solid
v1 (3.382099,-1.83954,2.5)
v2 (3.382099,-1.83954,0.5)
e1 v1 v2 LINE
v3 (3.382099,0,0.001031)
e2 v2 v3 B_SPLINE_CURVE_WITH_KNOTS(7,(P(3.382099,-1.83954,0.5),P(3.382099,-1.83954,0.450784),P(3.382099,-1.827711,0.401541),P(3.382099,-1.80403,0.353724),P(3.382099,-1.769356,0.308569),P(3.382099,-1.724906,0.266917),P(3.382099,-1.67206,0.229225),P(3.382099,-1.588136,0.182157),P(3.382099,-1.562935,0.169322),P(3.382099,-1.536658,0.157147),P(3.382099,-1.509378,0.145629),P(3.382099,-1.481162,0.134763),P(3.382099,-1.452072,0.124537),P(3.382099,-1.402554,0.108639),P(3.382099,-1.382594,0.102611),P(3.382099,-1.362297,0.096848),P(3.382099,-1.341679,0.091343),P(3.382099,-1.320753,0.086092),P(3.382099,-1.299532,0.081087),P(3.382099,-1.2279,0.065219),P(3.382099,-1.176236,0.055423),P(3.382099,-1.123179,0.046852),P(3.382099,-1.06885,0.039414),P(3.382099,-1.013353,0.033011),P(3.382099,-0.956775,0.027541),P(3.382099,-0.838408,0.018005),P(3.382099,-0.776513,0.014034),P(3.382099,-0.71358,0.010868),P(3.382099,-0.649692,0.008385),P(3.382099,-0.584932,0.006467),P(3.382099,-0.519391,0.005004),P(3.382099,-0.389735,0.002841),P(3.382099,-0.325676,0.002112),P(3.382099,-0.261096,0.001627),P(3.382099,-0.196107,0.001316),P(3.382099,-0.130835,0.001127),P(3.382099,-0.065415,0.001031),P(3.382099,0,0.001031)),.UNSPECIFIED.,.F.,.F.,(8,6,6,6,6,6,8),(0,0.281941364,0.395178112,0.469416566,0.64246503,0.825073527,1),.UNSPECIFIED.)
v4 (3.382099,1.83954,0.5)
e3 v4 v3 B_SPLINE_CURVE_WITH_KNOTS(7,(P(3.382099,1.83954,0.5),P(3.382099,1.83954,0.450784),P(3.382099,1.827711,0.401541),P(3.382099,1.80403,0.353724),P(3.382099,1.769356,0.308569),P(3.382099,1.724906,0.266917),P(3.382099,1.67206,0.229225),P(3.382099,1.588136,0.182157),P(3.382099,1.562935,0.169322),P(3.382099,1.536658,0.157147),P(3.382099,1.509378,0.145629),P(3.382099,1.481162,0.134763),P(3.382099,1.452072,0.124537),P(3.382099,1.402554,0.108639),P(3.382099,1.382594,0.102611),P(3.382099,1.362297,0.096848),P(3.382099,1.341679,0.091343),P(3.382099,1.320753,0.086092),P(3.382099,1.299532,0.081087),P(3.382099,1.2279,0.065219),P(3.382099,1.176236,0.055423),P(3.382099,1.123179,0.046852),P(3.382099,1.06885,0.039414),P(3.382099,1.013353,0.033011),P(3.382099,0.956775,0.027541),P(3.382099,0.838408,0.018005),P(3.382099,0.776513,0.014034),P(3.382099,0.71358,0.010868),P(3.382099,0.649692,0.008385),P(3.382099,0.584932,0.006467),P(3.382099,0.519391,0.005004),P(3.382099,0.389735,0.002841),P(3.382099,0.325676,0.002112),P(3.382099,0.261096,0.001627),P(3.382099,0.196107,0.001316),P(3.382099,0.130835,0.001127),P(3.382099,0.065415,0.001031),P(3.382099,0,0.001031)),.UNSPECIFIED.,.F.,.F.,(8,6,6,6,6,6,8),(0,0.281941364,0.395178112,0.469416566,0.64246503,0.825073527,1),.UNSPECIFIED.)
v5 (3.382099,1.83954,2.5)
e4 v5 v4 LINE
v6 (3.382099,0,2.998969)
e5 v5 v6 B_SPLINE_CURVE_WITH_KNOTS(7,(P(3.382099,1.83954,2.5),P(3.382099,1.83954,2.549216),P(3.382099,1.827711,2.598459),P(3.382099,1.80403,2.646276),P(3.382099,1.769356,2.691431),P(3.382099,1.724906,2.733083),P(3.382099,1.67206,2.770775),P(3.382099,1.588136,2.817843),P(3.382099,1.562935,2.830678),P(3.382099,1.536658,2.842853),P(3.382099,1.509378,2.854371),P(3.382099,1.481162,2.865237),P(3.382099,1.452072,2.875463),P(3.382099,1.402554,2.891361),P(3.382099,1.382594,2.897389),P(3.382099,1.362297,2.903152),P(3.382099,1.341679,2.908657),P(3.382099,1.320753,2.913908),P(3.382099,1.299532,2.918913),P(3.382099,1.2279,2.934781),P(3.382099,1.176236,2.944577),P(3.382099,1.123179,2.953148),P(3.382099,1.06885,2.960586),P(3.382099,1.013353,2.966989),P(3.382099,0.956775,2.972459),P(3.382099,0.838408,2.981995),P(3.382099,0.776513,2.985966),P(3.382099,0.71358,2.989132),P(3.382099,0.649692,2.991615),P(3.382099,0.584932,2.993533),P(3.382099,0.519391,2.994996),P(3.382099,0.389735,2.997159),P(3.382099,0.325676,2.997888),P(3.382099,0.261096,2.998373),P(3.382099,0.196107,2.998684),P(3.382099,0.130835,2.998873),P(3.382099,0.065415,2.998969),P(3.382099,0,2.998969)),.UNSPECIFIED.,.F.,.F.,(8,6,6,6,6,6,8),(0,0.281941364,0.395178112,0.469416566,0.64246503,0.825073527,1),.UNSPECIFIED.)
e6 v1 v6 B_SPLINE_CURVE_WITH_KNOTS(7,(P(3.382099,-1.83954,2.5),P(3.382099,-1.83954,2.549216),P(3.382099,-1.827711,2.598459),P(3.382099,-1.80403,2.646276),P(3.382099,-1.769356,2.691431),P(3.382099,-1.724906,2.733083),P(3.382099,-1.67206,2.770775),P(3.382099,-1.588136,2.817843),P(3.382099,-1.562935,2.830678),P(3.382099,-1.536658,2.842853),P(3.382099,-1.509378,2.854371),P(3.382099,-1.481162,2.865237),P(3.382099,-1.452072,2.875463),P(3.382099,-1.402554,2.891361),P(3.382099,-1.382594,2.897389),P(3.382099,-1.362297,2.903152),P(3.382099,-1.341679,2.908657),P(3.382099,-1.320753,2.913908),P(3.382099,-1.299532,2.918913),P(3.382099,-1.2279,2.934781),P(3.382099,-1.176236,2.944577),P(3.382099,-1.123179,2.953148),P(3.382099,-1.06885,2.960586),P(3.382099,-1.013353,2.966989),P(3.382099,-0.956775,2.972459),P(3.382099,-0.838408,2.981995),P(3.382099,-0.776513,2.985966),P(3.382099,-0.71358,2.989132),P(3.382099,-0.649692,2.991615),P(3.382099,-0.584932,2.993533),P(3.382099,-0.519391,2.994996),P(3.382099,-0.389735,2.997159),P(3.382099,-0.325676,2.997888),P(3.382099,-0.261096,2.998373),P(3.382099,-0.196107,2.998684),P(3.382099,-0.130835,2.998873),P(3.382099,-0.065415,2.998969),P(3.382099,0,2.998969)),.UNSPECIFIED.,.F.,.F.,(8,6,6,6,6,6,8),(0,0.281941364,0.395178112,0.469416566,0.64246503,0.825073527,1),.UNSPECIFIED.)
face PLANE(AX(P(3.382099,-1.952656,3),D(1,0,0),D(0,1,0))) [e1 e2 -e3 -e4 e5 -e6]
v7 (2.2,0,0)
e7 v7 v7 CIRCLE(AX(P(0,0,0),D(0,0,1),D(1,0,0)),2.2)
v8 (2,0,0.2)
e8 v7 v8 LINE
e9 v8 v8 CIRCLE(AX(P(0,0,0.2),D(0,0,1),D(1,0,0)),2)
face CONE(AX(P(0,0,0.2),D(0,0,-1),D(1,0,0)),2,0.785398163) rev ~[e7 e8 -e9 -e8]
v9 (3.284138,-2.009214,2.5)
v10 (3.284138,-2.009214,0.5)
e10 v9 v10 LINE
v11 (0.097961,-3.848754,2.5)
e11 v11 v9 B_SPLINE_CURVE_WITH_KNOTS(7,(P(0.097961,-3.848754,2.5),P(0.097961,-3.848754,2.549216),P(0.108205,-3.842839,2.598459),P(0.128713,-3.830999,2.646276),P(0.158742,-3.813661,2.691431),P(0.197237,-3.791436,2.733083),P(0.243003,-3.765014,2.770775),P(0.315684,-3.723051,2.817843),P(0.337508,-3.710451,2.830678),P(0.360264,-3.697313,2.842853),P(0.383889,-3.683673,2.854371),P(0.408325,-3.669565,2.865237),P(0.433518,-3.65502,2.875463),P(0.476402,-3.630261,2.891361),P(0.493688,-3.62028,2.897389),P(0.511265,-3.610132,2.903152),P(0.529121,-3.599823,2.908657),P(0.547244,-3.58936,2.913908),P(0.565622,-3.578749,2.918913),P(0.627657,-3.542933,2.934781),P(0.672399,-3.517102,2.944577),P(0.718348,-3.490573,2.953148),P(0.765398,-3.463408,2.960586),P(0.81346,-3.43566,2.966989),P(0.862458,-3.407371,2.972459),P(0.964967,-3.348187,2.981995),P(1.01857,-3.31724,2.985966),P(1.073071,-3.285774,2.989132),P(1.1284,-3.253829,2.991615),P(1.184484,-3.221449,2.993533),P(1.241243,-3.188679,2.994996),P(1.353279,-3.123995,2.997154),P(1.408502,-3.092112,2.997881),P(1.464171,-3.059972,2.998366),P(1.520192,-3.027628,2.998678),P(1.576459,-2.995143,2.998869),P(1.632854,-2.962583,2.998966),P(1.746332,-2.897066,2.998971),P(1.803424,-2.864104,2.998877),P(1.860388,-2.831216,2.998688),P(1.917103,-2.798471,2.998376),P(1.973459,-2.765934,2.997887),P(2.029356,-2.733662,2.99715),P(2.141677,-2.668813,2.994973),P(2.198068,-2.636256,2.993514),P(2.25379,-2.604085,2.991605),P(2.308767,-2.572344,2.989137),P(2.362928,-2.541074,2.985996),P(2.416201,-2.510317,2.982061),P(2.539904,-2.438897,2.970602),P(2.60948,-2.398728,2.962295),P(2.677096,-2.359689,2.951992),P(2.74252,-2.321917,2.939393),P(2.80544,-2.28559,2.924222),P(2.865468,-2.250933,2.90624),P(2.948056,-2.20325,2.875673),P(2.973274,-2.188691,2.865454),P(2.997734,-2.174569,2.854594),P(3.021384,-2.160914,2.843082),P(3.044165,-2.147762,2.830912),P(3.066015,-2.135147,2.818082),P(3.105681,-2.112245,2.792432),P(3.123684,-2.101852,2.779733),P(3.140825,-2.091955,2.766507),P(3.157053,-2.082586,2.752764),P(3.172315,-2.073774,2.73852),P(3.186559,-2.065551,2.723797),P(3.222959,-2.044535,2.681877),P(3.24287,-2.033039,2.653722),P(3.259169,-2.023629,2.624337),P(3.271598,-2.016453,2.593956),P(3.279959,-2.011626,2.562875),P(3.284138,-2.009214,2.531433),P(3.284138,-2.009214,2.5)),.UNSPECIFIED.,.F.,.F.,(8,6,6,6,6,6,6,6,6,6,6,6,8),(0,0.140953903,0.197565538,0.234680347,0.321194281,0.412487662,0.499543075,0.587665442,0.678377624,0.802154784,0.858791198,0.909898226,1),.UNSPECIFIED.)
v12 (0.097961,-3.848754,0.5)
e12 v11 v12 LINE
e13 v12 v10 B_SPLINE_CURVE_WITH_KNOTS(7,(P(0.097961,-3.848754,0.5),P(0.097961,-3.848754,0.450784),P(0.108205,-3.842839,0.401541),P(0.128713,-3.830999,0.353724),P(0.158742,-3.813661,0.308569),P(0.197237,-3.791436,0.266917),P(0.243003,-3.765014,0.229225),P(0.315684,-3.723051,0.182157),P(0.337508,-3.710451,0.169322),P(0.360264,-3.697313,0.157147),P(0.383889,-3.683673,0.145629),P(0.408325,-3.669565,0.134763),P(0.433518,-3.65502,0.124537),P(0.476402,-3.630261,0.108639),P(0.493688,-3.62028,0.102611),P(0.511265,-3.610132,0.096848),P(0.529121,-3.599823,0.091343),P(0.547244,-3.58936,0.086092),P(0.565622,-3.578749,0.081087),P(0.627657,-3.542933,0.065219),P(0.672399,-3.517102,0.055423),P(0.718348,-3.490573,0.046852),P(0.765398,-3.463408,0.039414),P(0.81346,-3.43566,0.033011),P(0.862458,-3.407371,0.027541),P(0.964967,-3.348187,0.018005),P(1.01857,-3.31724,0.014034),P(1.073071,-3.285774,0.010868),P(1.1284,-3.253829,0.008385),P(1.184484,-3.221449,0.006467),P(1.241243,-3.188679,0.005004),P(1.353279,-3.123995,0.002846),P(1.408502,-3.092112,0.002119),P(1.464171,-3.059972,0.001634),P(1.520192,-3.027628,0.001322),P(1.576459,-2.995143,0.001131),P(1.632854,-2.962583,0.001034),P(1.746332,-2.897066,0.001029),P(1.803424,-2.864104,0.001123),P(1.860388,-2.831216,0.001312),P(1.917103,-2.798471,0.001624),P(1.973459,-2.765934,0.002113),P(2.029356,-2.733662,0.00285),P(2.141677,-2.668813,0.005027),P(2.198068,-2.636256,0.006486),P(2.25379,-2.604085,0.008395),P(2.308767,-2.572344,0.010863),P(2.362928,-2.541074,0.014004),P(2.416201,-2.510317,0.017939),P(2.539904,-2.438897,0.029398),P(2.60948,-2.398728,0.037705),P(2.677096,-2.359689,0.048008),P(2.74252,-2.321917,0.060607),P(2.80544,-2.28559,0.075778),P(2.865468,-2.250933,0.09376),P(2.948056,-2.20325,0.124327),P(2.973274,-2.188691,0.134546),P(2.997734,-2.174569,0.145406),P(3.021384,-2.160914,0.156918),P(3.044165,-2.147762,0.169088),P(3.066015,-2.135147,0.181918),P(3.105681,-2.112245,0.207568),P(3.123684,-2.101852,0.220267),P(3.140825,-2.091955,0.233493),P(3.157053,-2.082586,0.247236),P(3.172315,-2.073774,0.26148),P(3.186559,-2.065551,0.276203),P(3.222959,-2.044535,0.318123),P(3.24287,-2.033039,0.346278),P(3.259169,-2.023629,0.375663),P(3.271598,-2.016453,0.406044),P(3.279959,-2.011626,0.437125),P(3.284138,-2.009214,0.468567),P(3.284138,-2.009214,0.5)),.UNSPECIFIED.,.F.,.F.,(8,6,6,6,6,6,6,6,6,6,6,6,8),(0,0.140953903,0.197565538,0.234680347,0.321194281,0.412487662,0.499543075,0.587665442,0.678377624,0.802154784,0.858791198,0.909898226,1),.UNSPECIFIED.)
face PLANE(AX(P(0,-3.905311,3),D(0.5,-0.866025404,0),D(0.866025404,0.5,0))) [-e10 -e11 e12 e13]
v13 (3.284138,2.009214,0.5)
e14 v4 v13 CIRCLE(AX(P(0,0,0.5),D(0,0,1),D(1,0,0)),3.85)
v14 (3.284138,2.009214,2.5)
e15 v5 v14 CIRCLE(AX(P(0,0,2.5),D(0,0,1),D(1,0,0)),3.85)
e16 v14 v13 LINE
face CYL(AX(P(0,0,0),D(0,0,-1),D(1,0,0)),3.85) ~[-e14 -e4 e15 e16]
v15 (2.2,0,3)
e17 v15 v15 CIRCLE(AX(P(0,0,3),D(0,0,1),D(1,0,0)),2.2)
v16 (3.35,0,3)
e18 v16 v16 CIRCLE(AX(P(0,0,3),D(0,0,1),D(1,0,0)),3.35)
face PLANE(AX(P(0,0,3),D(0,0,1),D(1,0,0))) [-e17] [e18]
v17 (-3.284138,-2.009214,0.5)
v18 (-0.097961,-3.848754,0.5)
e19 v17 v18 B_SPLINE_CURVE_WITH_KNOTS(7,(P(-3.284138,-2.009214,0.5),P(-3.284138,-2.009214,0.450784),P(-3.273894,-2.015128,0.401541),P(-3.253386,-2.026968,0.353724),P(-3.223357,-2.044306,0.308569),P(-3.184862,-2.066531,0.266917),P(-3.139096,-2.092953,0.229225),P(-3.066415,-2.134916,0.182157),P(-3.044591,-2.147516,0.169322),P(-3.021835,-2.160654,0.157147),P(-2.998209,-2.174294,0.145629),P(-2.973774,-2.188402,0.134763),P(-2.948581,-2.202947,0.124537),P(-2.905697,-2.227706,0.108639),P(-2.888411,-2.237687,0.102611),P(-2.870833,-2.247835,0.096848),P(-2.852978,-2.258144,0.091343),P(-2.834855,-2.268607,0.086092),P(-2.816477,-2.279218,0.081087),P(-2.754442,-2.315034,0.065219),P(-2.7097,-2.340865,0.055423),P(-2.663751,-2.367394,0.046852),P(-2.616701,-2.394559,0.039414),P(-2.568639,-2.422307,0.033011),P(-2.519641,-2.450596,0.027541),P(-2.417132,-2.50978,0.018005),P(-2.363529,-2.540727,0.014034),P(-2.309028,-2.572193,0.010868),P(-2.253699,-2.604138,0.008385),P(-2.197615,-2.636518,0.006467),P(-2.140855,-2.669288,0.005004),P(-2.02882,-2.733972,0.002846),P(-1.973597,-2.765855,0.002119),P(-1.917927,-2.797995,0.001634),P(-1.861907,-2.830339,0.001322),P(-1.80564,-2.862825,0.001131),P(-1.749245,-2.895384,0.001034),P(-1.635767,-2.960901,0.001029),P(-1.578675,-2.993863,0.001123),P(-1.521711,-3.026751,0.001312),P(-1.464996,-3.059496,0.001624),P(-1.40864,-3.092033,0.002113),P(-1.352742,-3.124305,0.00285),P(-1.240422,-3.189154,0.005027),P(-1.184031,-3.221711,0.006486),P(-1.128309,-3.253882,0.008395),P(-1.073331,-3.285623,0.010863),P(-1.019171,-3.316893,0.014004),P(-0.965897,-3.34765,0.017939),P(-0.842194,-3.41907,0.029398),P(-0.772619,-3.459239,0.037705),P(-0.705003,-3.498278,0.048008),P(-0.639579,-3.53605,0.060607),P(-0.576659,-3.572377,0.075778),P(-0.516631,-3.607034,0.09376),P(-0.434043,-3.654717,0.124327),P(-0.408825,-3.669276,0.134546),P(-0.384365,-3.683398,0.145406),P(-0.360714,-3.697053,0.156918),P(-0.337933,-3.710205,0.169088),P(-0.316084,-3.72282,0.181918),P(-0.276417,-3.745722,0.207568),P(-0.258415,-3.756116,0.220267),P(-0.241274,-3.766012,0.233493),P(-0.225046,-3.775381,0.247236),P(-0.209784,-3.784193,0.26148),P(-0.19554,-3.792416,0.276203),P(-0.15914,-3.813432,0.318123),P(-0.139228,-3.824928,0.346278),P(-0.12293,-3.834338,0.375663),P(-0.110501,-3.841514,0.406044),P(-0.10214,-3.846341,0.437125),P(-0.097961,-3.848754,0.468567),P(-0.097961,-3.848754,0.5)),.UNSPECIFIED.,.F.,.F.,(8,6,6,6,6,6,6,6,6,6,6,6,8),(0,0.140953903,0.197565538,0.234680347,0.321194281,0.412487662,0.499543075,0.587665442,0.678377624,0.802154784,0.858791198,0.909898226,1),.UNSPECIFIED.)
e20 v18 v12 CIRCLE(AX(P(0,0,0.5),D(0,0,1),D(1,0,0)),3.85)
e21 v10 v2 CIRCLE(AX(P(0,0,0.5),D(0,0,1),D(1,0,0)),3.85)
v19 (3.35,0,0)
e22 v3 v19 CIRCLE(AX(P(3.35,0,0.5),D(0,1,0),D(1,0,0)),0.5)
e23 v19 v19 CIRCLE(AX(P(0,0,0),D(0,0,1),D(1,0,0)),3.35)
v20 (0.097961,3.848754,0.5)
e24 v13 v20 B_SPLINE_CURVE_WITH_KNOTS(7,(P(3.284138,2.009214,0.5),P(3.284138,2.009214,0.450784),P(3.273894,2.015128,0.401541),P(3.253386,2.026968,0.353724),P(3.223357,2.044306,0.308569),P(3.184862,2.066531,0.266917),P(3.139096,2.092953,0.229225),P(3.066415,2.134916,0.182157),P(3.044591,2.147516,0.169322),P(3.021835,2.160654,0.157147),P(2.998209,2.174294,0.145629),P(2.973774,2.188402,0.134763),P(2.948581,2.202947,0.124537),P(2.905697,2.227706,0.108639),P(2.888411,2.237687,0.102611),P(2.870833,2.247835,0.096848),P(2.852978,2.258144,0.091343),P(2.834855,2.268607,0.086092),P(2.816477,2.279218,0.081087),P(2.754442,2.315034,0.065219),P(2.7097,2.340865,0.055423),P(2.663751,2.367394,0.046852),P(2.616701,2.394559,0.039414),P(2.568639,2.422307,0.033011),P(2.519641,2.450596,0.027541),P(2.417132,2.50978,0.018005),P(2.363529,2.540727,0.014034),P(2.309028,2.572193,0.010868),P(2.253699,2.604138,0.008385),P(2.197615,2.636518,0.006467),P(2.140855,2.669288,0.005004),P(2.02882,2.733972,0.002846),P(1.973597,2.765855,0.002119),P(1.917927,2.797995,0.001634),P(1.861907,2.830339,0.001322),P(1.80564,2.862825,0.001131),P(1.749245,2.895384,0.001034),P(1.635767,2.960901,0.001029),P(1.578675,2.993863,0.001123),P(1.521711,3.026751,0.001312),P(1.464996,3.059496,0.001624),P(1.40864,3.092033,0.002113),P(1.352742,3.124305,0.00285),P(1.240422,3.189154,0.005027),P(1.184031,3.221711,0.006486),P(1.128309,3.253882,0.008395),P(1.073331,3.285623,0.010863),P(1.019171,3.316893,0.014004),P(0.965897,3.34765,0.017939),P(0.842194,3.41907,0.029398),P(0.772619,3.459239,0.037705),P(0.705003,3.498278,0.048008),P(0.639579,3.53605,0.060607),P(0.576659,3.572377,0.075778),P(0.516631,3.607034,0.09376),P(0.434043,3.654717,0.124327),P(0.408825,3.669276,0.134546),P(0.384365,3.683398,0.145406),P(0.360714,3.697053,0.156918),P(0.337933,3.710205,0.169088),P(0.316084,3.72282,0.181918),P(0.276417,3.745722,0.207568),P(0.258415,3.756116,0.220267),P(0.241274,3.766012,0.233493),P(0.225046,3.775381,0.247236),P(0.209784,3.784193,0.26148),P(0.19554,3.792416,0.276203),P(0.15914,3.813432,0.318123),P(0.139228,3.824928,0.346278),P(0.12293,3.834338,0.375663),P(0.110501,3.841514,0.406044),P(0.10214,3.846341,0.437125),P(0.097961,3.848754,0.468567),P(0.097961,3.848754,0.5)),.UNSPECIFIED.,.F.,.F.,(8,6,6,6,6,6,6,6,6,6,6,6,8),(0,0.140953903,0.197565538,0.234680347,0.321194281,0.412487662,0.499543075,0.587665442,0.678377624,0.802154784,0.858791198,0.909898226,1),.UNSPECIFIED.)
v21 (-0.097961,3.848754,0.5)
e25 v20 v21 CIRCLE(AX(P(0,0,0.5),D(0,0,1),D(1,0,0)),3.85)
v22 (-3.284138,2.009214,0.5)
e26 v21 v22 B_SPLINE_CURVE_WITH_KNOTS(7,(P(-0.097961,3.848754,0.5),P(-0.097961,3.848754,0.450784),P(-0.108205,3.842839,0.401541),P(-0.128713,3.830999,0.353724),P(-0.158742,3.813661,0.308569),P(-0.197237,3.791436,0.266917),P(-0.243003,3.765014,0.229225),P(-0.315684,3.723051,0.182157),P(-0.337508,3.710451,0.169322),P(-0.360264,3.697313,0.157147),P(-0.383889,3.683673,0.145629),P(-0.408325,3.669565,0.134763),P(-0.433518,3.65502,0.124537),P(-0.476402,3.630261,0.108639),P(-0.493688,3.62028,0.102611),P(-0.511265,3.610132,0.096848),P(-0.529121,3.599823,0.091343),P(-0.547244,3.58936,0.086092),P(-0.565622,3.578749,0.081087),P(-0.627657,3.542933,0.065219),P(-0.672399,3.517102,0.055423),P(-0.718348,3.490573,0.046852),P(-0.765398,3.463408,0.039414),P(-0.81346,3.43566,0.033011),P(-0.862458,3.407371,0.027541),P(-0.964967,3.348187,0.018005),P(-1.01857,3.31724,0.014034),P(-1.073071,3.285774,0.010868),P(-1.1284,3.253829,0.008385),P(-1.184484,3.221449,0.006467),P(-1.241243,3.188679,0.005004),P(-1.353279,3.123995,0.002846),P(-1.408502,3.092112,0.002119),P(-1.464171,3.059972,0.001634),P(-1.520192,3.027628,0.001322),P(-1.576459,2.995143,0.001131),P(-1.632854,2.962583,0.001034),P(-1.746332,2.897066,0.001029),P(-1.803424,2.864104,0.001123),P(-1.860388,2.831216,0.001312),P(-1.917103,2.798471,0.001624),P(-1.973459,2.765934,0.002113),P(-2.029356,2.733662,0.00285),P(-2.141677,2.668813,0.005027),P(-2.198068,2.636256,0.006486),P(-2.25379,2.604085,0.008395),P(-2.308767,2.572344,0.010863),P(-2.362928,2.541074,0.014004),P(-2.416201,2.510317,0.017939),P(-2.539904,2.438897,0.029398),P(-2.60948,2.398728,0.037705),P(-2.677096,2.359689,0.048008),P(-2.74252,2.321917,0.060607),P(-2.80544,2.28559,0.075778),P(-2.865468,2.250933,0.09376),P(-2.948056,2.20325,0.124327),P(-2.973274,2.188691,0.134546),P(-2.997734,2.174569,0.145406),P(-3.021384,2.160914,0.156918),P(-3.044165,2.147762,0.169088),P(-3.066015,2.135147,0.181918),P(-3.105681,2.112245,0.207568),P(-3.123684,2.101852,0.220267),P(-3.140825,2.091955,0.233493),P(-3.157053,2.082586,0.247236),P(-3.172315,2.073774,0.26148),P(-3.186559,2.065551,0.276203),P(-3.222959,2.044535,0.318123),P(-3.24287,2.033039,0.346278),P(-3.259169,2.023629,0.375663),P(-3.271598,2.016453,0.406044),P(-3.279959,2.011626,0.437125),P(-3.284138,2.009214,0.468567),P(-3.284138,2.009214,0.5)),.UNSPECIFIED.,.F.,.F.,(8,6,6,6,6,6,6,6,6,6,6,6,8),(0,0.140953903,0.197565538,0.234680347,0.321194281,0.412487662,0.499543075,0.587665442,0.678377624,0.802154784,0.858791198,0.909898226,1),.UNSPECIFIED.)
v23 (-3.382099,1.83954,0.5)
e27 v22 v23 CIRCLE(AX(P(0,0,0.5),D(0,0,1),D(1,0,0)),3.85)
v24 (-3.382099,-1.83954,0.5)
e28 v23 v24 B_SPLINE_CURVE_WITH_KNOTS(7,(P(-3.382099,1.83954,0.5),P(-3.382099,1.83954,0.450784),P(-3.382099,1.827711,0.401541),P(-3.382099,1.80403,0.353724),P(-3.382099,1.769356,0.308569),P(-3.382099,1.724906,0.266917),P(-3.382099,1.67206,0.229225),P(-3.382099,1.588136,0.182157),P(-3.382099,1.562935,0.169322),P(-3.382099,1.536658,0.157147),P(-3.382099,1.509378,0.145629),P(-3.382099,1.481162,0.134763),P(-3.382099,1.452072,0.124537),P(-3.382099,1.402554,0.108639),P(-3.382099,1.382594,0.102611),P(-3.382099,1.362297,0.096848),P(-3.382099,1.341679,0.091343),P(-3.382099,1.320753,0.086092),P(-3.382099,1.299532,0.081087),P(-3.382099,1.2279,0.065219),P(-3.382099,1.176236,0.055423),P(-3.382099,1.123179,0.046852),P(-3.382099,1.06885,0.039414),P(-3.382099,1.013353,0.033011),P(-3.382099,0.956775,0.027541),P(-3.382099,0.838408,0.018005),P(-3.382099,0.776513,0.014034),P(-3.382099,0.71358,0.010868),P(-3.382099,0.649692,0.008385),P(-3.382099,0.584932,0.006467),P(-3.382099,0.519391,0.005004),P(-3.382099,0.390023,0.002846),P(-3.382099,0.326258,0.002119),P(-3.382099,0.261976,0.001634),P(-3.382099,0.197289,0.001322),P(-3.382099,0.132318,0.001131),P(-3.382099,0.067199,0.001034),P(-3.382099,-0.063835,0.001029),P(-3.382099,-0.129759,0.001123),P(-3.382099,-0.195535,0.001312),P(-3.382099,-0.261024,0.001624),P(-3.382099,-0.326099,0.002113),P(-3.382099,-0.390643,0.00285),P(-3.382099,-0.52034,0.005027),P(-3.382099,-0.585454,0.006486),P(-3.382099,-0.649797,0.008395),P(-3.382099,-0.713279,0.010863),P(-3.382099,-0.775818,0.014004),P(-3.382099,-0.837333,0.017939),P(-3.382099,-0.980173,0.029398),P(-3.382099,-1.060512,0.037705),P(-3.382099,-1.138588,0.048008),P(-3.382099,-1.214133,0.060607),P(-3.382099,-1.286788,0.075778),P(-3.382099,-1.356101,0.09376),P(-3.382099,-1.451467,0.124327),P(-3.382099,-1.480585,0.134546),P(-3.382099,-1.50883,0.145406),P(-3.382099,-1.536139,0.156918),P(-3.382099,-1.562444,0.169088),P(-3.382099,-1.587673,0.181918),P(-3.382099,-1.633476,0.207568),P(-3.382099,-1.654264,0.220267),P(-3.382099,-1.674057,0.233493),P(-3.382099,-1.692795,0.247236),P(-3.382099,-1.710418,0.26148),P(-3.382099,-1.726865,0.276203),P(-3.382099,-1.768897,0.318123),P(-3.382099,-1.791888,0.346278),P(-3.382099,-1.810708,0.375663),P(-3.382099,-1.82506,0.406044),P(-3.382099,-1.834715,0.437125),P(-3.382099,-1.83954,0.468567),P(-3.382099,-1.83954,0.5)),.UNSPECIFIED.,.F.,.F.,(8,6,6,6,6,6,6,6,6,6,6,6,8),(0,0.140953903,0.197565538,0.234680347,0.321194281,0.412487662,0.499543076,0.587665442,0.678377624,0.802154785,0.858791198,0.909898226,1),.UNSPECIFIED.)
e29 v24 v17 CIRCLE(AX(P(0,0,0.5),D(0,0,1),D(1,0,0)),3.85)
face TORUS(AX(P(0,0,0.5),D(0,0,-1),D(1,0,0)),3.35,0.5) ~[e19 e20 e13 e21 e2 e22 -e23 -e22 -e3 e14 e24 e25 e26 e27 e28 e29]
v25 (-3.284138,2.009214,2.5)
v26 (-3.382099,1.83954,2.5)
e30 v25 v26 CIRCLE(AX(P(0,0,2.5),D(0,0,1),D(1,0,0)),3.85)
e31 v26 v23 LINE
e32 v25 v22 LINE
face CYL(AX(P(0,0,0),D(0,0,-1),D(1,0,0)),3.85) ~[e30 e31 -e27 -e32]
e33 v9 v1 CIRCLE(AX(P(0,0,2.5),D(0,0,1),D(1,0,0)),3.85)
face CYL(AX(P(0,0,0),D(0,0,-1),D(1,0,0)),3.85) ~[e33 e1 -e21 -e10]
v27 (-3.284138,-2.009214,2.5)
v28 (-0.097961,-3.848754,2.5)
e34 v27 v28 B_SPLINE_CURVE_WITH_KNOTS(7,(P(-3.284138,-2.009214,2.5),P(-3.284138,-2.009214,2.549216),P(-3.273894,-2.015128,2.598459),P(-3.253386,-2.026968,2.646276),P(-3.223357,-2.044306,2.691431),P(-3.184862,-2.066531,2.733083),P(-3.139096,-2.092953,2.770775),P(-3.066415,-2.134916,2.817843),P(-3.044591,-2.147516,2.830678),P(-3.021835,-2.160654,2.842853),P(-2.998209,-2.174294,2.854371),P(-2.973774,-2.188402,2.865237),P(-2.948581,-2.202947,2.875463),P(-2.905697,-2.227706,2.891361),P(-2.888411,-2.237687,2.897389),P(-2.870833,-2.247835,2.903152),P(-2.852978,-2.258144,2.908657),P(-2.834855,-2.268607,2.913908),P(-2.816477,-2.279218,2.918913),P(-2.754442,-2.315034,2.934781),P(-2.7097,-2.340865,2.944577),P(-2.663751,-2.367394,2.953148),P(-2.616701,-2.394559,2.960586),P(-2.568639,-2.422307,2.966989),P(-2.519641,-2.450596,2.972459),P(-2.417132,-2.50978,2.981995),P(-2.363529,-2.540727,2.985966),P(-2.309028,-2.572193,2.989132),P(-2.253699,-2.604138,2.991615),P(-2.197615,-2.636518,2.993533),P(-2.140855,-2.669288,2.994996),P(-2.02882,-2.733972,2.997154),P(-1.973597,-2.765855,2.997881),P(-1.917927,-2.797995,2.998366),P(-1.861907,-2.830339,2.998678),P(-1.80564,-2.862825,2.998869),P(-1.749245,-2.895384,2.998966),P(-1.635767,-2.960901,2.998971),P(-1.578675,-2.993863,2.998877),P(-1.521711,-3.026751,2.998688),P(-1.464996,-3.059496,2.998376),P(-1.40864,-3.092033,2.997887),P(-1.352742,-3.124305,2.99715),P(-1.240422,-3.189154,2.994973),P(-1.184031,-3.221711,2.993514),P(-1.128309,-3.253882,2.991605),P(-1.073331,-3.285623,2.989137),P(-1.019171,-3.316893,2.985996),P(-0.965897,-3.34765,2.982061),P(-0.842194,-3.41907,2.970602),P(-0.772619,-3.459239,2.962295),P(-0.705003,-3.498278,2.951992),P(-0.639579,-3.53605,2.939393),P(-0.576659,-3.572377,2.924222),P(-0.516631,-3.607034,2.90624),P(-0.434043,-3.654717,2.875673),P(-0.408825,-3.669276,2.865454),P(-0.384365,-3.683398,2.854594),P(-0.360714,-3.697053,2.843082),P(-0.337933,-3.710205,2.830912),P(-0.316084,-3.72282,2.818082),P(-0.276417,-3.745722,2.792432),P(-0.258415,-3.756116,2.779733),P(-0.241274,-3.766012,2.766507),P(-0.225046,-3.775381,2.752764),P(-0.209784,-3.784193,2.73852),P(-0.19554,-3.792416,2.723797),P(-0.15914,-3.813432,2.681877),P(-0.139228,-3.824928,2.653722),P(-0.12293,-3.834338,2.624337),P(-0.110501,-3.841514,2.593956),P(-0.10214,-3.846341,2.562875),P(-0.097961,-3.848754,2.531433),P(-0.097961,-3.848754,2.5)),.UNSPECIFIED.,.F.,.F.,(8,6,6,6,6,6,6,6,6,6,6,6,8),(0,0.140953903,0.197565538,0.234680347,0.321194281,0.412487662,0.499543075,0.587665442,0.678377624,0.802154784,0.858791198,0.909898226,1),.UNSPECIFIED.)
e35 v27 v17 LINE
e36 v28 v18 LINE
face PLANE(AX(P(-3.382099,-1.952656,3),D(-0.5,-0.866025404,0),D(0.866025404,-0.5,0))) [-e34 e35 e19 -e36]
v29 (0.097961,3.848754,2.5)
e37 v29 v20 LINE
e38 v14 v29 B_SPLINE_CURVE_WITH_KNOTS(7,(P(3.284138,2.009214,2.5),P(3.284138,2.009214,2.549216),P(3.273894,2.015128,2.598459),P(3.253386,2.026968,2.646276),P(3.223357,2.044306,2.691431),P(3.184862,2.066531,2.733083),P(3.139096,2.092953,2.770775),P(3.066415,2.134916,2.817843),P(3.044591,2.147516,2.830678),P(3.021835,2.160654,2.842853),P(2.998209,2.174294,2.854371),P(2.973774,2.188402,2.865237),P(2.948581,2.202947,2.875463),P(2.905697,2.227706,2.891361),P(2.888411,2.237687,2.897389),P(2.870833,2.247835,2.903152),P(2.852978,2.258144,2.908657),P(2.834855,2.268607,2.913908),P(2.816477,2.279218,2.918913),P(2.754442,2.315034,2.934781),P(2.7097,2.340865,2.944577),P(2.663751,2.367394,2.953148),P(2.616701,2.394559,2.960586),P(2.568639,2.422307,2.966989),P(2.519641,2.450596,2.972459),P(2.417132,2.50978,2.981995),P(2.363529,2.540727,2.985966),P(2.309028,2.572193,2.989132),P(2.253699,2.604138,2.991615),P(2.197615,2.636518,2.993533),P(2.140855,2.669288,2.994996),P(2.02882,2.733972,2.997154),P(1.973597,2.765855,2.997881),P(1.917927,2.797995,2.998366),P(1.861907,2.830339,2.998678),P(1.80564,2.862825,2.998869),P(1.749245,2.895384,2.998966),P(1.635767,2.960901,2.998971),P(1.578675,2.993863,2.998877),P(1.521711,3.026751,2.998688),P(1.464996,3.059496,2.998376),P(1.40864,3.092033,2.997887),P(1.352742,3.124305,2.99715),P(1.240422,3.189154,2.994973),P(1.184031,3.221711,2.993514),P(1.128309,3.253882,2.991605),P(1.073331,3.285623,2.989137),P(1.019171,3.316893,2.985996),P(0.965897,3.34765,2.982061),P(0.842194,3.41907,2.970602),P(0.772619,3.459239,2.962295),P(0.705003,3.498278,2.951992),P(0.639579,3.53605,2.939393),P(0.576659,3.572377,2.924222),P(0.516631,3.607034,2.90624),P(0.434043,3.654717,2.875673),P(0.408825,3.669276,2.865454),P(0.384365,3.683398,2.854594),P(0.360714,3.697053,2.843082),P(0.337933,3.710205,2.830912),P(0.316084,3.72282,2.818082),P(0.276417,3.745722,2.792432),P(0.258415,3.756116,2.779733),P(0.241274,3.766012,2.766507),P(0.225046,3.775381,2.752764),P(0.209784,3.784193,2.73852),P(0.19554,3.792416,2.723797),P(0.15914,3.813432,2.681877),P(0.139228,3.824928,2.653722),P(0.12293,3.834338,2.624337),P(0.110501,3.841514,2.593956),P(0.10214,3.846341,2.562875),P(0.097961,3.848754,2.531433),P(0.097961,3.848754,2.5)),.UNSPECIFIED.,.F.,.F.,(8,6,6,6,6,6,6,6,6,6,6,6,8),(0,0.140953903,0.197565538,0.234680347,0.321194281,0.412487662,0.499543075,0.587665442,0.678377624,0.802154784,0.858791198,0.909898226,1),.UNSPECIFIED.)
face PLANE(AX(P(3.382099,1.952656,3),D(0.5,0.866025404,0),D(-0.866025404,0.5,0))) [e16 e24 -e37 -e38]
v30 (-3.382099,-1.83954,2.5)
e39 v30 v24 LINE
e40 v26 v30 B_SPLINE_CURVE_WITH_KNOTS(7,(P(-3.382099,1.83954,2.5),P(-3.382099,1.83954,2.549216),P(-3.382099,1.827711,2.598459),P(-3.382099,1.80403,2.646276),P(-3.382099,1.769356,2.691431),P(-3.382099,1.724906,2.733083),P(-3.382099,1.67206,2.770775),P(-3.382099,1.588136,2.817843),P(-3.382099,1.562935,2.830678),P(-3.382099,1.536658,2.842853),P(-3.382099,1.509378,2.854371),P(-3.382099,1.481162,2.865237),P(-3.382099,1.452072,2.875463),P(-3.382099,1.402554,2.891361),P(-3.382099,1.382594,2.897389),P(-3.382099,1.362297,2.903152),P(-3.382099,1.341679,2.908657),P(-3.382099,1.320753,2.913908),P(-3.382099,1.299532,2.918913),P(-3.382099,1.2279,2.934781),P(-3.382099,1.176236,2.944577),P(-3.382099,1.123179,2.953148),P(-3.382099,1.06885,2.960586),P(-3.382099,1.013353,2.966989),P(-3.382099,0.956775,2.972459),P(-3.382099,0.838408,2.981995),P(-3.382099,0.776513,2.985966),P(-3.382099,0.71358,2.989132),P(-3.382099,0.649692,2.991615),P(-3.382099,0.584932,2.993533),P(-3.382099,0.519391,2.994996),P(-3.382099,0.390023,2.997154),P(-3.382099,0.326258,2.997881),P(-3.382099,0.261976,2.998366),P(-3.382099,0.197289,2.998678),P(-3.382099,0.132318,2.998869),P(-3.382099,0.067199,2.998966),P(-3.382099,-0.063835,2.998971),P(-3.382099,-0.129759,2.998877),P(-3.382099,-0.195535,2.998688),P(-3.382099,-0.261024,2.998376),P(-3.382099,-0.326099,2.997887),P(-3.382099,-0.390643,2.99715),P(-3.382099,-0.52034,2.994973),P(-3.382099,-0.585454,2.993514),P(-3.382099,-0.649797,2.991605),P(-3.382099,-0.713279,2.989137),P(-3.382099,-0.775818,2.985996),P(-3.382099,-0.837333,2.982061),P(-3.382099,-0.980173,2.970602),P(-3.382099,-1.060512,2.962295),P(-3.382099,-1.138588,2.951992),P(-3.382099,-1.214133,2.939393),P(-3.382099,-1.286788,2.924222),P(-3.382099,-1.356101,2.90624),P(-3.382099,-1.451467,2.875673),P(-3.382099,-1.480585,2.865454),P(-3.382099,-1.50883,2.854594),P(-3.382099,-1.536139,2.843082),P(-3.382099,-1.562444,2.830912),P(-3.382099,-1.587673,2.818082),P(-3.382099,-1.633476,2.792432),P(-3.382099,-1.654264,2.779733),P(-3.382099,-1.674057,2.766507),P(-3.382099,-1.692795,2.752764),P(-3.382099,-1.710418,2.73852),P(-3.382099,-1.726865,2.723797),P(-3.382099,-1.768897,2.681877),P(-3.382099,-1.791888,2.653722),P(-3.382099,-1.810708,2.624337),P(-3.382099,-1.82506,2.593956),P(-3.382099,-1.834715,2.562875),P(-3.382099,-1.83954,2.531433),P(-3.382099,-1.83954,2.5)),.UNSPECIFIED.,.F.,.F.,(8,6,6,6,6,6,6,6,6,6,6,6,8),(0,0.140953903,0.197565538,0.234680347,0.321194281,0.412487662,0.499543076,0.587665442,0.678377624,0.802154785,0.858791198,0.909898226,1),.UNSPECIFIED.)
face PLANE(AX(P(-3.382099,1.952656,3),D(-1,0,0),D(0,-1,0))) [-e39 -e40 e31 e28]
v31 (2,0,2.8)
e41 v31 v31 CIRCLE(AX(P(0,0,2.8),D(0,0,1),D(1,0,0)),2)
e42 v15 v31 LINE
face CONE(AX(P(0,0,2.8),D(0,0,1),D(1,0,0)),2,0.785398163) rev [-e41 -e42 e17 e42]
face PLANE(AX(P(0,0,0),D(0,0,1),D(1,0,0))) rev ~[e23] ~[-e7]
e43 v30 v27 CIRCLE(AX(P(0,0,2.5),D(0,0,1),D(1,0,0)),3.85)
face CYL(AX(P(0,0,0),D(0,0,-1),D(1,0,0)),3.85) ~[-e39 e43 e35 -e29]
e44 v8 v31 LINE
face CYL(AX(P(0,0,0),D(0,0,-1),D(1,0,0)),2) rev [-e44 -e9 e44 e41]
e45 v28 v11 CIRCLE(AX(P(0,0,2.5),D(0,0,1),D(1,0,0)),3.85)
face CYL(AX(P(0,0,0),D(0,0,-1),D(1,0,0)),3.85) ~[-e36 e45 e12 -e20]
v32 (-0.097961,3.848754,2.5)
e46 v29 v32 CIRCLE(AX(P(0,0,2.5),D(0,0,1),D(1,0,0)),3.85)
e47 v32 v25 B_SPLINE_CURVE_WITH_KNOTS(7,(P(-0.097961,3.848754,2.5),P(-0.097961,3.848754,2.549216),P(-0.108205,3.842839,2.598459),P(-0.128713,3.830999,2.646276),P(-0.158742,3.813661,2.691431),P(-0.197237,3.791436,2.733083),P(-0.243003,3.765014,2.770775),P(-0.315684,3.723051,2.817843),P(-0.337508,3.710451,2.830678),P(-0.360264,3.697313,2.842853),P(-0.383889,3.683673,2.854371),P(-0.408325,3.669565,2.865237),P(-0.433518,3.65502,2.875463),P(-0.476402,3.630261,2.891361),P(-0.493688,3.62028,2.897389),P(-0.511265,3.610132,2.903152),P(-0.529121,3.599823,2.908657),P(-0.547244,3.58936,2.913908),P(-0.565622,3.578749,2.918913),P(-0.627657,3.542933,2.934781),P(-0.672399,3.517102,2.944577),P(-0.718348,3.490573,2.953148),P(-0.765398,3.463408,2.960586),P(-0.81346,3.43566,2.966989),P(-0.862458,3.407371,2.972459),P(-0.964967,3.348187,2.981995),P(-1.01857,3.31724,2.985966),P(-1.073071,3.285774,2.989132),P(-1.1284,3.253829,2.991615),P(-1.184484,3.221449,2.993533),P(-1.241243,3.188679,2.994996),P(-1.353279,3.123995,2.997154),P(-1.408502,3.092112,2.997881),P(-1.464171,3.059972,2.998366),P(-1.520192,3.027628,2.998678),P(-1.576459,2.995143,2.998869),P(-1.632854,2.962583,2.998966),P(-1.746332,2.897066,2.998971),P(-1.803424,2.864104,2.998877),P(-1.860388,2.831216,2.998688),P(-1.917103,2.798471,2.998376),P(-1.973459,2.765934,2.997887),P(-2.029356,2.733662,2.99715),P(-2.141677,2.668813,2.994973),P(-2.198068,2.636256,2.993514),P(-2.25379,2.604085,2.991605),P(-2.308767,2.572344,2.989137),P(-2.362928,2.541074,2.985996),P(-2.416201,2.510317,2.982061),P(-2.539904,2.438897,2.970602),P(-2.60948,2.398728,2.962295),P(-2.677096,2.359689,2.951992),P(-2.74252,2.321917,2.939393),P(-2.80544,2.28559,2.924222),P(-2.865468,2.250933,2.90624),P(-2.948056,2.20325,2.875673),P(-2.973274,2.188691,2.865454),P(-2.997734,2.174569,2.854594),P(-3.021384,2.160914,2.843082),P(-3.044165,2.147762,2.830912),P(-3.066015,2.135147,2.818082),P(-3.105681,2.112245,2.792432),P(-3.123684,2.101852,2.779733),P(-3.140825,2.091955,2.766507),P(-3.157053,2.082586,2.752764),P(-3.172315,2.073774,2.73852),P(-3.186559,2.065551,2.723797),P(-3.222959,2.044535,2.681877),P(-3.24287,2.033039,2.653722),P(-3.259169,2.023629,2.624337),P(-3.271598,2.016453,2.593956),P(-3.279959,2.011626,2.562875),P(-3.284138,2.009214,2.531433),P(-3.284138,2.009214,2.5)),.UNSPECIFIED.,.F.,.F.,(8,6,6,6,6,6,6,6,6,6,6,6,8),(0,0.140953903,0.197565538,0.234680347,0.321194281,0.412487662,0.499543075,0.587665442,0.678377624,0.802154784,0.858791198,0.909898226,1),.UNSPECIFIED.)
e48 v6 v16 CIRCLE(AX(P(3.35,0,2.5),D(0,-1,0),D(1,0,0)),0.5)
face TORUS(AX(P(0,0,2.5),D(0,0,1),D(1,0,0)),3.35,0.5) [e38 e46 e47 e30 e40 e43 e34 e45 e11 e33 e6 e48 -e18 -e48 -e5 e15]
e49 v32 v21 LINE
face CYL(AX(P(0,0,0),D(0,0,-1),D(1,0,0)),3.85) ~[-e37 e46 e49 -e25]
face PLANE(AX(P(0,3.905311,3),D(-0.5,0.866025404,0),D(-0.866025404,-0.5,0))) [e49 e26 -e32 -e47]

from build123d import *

# Parameters (mm, degrees)
ESQUISSE1_R             = 3.85
ESQUISSE1_R_2           = 2
EXTRUSION1_DEPTH        = 3
CONG_1_R                = 0.5
ESQUISSE2_OUTSIDE_W     = 11.96
ESQUISSE2_OUTSIDE_H     = 11.96
ENL_V_MAT_EXTRU_1_DEPTH = 3
CHANFREIN1_SIZE         = 0.2


with BuildPart() as part:
    # Esquisse1 → Extrusion1 (new body)
    with BuildSketch(Plane.XY):
        Circle(ESQUISSE1_R)
        Circle(ESQUISSE1_R_2, mode=Mode.SUBTRACT)
    extrude(amount=EXTRUSION1_DEPTH)

    # Congé1
    cong_1_edges = [part.edges().sort_by_distance(p)[0] for p in [
        (-3.85, 0, 0),
        (-3.85, 0, 3),
    ]]
    fillet(cong_1_edges, radius=CONG_1_R)

    # Esquisse2 outside → Enlèv. mat.-Extru.1 (cut)
    with BuildSketch(Plane.XY.offset(3)):
        Rectangle(ESQUISSE2_OUTSIDE_W, ESQUISSE2_OUTSIDE_H)
        Polygon((3.38209884, 1.952655676), (0, 3.905311351), (-3.38209884, 1.952655676), (-3.38209884, -1.952655676), (0, -3.905311351), (3.38209884, -1.952655676), align=None, mode=Mode.SUBTRACT)
    extrude(amount=-ENL_V_MAT_EXTRU_1_DEPTH, mode=Mode.SUBTRACT)

    # Chanfrein1
    chanfrein1_edges = [part.edges().sort_by_distance(p)[0] for p in [
        (-2, 0, 0),
        (-2, 0, 3),
    ]]
    chamfer(chanfrein1_edges, length=CHANFREIN1_SIZE)


solid = part.part
